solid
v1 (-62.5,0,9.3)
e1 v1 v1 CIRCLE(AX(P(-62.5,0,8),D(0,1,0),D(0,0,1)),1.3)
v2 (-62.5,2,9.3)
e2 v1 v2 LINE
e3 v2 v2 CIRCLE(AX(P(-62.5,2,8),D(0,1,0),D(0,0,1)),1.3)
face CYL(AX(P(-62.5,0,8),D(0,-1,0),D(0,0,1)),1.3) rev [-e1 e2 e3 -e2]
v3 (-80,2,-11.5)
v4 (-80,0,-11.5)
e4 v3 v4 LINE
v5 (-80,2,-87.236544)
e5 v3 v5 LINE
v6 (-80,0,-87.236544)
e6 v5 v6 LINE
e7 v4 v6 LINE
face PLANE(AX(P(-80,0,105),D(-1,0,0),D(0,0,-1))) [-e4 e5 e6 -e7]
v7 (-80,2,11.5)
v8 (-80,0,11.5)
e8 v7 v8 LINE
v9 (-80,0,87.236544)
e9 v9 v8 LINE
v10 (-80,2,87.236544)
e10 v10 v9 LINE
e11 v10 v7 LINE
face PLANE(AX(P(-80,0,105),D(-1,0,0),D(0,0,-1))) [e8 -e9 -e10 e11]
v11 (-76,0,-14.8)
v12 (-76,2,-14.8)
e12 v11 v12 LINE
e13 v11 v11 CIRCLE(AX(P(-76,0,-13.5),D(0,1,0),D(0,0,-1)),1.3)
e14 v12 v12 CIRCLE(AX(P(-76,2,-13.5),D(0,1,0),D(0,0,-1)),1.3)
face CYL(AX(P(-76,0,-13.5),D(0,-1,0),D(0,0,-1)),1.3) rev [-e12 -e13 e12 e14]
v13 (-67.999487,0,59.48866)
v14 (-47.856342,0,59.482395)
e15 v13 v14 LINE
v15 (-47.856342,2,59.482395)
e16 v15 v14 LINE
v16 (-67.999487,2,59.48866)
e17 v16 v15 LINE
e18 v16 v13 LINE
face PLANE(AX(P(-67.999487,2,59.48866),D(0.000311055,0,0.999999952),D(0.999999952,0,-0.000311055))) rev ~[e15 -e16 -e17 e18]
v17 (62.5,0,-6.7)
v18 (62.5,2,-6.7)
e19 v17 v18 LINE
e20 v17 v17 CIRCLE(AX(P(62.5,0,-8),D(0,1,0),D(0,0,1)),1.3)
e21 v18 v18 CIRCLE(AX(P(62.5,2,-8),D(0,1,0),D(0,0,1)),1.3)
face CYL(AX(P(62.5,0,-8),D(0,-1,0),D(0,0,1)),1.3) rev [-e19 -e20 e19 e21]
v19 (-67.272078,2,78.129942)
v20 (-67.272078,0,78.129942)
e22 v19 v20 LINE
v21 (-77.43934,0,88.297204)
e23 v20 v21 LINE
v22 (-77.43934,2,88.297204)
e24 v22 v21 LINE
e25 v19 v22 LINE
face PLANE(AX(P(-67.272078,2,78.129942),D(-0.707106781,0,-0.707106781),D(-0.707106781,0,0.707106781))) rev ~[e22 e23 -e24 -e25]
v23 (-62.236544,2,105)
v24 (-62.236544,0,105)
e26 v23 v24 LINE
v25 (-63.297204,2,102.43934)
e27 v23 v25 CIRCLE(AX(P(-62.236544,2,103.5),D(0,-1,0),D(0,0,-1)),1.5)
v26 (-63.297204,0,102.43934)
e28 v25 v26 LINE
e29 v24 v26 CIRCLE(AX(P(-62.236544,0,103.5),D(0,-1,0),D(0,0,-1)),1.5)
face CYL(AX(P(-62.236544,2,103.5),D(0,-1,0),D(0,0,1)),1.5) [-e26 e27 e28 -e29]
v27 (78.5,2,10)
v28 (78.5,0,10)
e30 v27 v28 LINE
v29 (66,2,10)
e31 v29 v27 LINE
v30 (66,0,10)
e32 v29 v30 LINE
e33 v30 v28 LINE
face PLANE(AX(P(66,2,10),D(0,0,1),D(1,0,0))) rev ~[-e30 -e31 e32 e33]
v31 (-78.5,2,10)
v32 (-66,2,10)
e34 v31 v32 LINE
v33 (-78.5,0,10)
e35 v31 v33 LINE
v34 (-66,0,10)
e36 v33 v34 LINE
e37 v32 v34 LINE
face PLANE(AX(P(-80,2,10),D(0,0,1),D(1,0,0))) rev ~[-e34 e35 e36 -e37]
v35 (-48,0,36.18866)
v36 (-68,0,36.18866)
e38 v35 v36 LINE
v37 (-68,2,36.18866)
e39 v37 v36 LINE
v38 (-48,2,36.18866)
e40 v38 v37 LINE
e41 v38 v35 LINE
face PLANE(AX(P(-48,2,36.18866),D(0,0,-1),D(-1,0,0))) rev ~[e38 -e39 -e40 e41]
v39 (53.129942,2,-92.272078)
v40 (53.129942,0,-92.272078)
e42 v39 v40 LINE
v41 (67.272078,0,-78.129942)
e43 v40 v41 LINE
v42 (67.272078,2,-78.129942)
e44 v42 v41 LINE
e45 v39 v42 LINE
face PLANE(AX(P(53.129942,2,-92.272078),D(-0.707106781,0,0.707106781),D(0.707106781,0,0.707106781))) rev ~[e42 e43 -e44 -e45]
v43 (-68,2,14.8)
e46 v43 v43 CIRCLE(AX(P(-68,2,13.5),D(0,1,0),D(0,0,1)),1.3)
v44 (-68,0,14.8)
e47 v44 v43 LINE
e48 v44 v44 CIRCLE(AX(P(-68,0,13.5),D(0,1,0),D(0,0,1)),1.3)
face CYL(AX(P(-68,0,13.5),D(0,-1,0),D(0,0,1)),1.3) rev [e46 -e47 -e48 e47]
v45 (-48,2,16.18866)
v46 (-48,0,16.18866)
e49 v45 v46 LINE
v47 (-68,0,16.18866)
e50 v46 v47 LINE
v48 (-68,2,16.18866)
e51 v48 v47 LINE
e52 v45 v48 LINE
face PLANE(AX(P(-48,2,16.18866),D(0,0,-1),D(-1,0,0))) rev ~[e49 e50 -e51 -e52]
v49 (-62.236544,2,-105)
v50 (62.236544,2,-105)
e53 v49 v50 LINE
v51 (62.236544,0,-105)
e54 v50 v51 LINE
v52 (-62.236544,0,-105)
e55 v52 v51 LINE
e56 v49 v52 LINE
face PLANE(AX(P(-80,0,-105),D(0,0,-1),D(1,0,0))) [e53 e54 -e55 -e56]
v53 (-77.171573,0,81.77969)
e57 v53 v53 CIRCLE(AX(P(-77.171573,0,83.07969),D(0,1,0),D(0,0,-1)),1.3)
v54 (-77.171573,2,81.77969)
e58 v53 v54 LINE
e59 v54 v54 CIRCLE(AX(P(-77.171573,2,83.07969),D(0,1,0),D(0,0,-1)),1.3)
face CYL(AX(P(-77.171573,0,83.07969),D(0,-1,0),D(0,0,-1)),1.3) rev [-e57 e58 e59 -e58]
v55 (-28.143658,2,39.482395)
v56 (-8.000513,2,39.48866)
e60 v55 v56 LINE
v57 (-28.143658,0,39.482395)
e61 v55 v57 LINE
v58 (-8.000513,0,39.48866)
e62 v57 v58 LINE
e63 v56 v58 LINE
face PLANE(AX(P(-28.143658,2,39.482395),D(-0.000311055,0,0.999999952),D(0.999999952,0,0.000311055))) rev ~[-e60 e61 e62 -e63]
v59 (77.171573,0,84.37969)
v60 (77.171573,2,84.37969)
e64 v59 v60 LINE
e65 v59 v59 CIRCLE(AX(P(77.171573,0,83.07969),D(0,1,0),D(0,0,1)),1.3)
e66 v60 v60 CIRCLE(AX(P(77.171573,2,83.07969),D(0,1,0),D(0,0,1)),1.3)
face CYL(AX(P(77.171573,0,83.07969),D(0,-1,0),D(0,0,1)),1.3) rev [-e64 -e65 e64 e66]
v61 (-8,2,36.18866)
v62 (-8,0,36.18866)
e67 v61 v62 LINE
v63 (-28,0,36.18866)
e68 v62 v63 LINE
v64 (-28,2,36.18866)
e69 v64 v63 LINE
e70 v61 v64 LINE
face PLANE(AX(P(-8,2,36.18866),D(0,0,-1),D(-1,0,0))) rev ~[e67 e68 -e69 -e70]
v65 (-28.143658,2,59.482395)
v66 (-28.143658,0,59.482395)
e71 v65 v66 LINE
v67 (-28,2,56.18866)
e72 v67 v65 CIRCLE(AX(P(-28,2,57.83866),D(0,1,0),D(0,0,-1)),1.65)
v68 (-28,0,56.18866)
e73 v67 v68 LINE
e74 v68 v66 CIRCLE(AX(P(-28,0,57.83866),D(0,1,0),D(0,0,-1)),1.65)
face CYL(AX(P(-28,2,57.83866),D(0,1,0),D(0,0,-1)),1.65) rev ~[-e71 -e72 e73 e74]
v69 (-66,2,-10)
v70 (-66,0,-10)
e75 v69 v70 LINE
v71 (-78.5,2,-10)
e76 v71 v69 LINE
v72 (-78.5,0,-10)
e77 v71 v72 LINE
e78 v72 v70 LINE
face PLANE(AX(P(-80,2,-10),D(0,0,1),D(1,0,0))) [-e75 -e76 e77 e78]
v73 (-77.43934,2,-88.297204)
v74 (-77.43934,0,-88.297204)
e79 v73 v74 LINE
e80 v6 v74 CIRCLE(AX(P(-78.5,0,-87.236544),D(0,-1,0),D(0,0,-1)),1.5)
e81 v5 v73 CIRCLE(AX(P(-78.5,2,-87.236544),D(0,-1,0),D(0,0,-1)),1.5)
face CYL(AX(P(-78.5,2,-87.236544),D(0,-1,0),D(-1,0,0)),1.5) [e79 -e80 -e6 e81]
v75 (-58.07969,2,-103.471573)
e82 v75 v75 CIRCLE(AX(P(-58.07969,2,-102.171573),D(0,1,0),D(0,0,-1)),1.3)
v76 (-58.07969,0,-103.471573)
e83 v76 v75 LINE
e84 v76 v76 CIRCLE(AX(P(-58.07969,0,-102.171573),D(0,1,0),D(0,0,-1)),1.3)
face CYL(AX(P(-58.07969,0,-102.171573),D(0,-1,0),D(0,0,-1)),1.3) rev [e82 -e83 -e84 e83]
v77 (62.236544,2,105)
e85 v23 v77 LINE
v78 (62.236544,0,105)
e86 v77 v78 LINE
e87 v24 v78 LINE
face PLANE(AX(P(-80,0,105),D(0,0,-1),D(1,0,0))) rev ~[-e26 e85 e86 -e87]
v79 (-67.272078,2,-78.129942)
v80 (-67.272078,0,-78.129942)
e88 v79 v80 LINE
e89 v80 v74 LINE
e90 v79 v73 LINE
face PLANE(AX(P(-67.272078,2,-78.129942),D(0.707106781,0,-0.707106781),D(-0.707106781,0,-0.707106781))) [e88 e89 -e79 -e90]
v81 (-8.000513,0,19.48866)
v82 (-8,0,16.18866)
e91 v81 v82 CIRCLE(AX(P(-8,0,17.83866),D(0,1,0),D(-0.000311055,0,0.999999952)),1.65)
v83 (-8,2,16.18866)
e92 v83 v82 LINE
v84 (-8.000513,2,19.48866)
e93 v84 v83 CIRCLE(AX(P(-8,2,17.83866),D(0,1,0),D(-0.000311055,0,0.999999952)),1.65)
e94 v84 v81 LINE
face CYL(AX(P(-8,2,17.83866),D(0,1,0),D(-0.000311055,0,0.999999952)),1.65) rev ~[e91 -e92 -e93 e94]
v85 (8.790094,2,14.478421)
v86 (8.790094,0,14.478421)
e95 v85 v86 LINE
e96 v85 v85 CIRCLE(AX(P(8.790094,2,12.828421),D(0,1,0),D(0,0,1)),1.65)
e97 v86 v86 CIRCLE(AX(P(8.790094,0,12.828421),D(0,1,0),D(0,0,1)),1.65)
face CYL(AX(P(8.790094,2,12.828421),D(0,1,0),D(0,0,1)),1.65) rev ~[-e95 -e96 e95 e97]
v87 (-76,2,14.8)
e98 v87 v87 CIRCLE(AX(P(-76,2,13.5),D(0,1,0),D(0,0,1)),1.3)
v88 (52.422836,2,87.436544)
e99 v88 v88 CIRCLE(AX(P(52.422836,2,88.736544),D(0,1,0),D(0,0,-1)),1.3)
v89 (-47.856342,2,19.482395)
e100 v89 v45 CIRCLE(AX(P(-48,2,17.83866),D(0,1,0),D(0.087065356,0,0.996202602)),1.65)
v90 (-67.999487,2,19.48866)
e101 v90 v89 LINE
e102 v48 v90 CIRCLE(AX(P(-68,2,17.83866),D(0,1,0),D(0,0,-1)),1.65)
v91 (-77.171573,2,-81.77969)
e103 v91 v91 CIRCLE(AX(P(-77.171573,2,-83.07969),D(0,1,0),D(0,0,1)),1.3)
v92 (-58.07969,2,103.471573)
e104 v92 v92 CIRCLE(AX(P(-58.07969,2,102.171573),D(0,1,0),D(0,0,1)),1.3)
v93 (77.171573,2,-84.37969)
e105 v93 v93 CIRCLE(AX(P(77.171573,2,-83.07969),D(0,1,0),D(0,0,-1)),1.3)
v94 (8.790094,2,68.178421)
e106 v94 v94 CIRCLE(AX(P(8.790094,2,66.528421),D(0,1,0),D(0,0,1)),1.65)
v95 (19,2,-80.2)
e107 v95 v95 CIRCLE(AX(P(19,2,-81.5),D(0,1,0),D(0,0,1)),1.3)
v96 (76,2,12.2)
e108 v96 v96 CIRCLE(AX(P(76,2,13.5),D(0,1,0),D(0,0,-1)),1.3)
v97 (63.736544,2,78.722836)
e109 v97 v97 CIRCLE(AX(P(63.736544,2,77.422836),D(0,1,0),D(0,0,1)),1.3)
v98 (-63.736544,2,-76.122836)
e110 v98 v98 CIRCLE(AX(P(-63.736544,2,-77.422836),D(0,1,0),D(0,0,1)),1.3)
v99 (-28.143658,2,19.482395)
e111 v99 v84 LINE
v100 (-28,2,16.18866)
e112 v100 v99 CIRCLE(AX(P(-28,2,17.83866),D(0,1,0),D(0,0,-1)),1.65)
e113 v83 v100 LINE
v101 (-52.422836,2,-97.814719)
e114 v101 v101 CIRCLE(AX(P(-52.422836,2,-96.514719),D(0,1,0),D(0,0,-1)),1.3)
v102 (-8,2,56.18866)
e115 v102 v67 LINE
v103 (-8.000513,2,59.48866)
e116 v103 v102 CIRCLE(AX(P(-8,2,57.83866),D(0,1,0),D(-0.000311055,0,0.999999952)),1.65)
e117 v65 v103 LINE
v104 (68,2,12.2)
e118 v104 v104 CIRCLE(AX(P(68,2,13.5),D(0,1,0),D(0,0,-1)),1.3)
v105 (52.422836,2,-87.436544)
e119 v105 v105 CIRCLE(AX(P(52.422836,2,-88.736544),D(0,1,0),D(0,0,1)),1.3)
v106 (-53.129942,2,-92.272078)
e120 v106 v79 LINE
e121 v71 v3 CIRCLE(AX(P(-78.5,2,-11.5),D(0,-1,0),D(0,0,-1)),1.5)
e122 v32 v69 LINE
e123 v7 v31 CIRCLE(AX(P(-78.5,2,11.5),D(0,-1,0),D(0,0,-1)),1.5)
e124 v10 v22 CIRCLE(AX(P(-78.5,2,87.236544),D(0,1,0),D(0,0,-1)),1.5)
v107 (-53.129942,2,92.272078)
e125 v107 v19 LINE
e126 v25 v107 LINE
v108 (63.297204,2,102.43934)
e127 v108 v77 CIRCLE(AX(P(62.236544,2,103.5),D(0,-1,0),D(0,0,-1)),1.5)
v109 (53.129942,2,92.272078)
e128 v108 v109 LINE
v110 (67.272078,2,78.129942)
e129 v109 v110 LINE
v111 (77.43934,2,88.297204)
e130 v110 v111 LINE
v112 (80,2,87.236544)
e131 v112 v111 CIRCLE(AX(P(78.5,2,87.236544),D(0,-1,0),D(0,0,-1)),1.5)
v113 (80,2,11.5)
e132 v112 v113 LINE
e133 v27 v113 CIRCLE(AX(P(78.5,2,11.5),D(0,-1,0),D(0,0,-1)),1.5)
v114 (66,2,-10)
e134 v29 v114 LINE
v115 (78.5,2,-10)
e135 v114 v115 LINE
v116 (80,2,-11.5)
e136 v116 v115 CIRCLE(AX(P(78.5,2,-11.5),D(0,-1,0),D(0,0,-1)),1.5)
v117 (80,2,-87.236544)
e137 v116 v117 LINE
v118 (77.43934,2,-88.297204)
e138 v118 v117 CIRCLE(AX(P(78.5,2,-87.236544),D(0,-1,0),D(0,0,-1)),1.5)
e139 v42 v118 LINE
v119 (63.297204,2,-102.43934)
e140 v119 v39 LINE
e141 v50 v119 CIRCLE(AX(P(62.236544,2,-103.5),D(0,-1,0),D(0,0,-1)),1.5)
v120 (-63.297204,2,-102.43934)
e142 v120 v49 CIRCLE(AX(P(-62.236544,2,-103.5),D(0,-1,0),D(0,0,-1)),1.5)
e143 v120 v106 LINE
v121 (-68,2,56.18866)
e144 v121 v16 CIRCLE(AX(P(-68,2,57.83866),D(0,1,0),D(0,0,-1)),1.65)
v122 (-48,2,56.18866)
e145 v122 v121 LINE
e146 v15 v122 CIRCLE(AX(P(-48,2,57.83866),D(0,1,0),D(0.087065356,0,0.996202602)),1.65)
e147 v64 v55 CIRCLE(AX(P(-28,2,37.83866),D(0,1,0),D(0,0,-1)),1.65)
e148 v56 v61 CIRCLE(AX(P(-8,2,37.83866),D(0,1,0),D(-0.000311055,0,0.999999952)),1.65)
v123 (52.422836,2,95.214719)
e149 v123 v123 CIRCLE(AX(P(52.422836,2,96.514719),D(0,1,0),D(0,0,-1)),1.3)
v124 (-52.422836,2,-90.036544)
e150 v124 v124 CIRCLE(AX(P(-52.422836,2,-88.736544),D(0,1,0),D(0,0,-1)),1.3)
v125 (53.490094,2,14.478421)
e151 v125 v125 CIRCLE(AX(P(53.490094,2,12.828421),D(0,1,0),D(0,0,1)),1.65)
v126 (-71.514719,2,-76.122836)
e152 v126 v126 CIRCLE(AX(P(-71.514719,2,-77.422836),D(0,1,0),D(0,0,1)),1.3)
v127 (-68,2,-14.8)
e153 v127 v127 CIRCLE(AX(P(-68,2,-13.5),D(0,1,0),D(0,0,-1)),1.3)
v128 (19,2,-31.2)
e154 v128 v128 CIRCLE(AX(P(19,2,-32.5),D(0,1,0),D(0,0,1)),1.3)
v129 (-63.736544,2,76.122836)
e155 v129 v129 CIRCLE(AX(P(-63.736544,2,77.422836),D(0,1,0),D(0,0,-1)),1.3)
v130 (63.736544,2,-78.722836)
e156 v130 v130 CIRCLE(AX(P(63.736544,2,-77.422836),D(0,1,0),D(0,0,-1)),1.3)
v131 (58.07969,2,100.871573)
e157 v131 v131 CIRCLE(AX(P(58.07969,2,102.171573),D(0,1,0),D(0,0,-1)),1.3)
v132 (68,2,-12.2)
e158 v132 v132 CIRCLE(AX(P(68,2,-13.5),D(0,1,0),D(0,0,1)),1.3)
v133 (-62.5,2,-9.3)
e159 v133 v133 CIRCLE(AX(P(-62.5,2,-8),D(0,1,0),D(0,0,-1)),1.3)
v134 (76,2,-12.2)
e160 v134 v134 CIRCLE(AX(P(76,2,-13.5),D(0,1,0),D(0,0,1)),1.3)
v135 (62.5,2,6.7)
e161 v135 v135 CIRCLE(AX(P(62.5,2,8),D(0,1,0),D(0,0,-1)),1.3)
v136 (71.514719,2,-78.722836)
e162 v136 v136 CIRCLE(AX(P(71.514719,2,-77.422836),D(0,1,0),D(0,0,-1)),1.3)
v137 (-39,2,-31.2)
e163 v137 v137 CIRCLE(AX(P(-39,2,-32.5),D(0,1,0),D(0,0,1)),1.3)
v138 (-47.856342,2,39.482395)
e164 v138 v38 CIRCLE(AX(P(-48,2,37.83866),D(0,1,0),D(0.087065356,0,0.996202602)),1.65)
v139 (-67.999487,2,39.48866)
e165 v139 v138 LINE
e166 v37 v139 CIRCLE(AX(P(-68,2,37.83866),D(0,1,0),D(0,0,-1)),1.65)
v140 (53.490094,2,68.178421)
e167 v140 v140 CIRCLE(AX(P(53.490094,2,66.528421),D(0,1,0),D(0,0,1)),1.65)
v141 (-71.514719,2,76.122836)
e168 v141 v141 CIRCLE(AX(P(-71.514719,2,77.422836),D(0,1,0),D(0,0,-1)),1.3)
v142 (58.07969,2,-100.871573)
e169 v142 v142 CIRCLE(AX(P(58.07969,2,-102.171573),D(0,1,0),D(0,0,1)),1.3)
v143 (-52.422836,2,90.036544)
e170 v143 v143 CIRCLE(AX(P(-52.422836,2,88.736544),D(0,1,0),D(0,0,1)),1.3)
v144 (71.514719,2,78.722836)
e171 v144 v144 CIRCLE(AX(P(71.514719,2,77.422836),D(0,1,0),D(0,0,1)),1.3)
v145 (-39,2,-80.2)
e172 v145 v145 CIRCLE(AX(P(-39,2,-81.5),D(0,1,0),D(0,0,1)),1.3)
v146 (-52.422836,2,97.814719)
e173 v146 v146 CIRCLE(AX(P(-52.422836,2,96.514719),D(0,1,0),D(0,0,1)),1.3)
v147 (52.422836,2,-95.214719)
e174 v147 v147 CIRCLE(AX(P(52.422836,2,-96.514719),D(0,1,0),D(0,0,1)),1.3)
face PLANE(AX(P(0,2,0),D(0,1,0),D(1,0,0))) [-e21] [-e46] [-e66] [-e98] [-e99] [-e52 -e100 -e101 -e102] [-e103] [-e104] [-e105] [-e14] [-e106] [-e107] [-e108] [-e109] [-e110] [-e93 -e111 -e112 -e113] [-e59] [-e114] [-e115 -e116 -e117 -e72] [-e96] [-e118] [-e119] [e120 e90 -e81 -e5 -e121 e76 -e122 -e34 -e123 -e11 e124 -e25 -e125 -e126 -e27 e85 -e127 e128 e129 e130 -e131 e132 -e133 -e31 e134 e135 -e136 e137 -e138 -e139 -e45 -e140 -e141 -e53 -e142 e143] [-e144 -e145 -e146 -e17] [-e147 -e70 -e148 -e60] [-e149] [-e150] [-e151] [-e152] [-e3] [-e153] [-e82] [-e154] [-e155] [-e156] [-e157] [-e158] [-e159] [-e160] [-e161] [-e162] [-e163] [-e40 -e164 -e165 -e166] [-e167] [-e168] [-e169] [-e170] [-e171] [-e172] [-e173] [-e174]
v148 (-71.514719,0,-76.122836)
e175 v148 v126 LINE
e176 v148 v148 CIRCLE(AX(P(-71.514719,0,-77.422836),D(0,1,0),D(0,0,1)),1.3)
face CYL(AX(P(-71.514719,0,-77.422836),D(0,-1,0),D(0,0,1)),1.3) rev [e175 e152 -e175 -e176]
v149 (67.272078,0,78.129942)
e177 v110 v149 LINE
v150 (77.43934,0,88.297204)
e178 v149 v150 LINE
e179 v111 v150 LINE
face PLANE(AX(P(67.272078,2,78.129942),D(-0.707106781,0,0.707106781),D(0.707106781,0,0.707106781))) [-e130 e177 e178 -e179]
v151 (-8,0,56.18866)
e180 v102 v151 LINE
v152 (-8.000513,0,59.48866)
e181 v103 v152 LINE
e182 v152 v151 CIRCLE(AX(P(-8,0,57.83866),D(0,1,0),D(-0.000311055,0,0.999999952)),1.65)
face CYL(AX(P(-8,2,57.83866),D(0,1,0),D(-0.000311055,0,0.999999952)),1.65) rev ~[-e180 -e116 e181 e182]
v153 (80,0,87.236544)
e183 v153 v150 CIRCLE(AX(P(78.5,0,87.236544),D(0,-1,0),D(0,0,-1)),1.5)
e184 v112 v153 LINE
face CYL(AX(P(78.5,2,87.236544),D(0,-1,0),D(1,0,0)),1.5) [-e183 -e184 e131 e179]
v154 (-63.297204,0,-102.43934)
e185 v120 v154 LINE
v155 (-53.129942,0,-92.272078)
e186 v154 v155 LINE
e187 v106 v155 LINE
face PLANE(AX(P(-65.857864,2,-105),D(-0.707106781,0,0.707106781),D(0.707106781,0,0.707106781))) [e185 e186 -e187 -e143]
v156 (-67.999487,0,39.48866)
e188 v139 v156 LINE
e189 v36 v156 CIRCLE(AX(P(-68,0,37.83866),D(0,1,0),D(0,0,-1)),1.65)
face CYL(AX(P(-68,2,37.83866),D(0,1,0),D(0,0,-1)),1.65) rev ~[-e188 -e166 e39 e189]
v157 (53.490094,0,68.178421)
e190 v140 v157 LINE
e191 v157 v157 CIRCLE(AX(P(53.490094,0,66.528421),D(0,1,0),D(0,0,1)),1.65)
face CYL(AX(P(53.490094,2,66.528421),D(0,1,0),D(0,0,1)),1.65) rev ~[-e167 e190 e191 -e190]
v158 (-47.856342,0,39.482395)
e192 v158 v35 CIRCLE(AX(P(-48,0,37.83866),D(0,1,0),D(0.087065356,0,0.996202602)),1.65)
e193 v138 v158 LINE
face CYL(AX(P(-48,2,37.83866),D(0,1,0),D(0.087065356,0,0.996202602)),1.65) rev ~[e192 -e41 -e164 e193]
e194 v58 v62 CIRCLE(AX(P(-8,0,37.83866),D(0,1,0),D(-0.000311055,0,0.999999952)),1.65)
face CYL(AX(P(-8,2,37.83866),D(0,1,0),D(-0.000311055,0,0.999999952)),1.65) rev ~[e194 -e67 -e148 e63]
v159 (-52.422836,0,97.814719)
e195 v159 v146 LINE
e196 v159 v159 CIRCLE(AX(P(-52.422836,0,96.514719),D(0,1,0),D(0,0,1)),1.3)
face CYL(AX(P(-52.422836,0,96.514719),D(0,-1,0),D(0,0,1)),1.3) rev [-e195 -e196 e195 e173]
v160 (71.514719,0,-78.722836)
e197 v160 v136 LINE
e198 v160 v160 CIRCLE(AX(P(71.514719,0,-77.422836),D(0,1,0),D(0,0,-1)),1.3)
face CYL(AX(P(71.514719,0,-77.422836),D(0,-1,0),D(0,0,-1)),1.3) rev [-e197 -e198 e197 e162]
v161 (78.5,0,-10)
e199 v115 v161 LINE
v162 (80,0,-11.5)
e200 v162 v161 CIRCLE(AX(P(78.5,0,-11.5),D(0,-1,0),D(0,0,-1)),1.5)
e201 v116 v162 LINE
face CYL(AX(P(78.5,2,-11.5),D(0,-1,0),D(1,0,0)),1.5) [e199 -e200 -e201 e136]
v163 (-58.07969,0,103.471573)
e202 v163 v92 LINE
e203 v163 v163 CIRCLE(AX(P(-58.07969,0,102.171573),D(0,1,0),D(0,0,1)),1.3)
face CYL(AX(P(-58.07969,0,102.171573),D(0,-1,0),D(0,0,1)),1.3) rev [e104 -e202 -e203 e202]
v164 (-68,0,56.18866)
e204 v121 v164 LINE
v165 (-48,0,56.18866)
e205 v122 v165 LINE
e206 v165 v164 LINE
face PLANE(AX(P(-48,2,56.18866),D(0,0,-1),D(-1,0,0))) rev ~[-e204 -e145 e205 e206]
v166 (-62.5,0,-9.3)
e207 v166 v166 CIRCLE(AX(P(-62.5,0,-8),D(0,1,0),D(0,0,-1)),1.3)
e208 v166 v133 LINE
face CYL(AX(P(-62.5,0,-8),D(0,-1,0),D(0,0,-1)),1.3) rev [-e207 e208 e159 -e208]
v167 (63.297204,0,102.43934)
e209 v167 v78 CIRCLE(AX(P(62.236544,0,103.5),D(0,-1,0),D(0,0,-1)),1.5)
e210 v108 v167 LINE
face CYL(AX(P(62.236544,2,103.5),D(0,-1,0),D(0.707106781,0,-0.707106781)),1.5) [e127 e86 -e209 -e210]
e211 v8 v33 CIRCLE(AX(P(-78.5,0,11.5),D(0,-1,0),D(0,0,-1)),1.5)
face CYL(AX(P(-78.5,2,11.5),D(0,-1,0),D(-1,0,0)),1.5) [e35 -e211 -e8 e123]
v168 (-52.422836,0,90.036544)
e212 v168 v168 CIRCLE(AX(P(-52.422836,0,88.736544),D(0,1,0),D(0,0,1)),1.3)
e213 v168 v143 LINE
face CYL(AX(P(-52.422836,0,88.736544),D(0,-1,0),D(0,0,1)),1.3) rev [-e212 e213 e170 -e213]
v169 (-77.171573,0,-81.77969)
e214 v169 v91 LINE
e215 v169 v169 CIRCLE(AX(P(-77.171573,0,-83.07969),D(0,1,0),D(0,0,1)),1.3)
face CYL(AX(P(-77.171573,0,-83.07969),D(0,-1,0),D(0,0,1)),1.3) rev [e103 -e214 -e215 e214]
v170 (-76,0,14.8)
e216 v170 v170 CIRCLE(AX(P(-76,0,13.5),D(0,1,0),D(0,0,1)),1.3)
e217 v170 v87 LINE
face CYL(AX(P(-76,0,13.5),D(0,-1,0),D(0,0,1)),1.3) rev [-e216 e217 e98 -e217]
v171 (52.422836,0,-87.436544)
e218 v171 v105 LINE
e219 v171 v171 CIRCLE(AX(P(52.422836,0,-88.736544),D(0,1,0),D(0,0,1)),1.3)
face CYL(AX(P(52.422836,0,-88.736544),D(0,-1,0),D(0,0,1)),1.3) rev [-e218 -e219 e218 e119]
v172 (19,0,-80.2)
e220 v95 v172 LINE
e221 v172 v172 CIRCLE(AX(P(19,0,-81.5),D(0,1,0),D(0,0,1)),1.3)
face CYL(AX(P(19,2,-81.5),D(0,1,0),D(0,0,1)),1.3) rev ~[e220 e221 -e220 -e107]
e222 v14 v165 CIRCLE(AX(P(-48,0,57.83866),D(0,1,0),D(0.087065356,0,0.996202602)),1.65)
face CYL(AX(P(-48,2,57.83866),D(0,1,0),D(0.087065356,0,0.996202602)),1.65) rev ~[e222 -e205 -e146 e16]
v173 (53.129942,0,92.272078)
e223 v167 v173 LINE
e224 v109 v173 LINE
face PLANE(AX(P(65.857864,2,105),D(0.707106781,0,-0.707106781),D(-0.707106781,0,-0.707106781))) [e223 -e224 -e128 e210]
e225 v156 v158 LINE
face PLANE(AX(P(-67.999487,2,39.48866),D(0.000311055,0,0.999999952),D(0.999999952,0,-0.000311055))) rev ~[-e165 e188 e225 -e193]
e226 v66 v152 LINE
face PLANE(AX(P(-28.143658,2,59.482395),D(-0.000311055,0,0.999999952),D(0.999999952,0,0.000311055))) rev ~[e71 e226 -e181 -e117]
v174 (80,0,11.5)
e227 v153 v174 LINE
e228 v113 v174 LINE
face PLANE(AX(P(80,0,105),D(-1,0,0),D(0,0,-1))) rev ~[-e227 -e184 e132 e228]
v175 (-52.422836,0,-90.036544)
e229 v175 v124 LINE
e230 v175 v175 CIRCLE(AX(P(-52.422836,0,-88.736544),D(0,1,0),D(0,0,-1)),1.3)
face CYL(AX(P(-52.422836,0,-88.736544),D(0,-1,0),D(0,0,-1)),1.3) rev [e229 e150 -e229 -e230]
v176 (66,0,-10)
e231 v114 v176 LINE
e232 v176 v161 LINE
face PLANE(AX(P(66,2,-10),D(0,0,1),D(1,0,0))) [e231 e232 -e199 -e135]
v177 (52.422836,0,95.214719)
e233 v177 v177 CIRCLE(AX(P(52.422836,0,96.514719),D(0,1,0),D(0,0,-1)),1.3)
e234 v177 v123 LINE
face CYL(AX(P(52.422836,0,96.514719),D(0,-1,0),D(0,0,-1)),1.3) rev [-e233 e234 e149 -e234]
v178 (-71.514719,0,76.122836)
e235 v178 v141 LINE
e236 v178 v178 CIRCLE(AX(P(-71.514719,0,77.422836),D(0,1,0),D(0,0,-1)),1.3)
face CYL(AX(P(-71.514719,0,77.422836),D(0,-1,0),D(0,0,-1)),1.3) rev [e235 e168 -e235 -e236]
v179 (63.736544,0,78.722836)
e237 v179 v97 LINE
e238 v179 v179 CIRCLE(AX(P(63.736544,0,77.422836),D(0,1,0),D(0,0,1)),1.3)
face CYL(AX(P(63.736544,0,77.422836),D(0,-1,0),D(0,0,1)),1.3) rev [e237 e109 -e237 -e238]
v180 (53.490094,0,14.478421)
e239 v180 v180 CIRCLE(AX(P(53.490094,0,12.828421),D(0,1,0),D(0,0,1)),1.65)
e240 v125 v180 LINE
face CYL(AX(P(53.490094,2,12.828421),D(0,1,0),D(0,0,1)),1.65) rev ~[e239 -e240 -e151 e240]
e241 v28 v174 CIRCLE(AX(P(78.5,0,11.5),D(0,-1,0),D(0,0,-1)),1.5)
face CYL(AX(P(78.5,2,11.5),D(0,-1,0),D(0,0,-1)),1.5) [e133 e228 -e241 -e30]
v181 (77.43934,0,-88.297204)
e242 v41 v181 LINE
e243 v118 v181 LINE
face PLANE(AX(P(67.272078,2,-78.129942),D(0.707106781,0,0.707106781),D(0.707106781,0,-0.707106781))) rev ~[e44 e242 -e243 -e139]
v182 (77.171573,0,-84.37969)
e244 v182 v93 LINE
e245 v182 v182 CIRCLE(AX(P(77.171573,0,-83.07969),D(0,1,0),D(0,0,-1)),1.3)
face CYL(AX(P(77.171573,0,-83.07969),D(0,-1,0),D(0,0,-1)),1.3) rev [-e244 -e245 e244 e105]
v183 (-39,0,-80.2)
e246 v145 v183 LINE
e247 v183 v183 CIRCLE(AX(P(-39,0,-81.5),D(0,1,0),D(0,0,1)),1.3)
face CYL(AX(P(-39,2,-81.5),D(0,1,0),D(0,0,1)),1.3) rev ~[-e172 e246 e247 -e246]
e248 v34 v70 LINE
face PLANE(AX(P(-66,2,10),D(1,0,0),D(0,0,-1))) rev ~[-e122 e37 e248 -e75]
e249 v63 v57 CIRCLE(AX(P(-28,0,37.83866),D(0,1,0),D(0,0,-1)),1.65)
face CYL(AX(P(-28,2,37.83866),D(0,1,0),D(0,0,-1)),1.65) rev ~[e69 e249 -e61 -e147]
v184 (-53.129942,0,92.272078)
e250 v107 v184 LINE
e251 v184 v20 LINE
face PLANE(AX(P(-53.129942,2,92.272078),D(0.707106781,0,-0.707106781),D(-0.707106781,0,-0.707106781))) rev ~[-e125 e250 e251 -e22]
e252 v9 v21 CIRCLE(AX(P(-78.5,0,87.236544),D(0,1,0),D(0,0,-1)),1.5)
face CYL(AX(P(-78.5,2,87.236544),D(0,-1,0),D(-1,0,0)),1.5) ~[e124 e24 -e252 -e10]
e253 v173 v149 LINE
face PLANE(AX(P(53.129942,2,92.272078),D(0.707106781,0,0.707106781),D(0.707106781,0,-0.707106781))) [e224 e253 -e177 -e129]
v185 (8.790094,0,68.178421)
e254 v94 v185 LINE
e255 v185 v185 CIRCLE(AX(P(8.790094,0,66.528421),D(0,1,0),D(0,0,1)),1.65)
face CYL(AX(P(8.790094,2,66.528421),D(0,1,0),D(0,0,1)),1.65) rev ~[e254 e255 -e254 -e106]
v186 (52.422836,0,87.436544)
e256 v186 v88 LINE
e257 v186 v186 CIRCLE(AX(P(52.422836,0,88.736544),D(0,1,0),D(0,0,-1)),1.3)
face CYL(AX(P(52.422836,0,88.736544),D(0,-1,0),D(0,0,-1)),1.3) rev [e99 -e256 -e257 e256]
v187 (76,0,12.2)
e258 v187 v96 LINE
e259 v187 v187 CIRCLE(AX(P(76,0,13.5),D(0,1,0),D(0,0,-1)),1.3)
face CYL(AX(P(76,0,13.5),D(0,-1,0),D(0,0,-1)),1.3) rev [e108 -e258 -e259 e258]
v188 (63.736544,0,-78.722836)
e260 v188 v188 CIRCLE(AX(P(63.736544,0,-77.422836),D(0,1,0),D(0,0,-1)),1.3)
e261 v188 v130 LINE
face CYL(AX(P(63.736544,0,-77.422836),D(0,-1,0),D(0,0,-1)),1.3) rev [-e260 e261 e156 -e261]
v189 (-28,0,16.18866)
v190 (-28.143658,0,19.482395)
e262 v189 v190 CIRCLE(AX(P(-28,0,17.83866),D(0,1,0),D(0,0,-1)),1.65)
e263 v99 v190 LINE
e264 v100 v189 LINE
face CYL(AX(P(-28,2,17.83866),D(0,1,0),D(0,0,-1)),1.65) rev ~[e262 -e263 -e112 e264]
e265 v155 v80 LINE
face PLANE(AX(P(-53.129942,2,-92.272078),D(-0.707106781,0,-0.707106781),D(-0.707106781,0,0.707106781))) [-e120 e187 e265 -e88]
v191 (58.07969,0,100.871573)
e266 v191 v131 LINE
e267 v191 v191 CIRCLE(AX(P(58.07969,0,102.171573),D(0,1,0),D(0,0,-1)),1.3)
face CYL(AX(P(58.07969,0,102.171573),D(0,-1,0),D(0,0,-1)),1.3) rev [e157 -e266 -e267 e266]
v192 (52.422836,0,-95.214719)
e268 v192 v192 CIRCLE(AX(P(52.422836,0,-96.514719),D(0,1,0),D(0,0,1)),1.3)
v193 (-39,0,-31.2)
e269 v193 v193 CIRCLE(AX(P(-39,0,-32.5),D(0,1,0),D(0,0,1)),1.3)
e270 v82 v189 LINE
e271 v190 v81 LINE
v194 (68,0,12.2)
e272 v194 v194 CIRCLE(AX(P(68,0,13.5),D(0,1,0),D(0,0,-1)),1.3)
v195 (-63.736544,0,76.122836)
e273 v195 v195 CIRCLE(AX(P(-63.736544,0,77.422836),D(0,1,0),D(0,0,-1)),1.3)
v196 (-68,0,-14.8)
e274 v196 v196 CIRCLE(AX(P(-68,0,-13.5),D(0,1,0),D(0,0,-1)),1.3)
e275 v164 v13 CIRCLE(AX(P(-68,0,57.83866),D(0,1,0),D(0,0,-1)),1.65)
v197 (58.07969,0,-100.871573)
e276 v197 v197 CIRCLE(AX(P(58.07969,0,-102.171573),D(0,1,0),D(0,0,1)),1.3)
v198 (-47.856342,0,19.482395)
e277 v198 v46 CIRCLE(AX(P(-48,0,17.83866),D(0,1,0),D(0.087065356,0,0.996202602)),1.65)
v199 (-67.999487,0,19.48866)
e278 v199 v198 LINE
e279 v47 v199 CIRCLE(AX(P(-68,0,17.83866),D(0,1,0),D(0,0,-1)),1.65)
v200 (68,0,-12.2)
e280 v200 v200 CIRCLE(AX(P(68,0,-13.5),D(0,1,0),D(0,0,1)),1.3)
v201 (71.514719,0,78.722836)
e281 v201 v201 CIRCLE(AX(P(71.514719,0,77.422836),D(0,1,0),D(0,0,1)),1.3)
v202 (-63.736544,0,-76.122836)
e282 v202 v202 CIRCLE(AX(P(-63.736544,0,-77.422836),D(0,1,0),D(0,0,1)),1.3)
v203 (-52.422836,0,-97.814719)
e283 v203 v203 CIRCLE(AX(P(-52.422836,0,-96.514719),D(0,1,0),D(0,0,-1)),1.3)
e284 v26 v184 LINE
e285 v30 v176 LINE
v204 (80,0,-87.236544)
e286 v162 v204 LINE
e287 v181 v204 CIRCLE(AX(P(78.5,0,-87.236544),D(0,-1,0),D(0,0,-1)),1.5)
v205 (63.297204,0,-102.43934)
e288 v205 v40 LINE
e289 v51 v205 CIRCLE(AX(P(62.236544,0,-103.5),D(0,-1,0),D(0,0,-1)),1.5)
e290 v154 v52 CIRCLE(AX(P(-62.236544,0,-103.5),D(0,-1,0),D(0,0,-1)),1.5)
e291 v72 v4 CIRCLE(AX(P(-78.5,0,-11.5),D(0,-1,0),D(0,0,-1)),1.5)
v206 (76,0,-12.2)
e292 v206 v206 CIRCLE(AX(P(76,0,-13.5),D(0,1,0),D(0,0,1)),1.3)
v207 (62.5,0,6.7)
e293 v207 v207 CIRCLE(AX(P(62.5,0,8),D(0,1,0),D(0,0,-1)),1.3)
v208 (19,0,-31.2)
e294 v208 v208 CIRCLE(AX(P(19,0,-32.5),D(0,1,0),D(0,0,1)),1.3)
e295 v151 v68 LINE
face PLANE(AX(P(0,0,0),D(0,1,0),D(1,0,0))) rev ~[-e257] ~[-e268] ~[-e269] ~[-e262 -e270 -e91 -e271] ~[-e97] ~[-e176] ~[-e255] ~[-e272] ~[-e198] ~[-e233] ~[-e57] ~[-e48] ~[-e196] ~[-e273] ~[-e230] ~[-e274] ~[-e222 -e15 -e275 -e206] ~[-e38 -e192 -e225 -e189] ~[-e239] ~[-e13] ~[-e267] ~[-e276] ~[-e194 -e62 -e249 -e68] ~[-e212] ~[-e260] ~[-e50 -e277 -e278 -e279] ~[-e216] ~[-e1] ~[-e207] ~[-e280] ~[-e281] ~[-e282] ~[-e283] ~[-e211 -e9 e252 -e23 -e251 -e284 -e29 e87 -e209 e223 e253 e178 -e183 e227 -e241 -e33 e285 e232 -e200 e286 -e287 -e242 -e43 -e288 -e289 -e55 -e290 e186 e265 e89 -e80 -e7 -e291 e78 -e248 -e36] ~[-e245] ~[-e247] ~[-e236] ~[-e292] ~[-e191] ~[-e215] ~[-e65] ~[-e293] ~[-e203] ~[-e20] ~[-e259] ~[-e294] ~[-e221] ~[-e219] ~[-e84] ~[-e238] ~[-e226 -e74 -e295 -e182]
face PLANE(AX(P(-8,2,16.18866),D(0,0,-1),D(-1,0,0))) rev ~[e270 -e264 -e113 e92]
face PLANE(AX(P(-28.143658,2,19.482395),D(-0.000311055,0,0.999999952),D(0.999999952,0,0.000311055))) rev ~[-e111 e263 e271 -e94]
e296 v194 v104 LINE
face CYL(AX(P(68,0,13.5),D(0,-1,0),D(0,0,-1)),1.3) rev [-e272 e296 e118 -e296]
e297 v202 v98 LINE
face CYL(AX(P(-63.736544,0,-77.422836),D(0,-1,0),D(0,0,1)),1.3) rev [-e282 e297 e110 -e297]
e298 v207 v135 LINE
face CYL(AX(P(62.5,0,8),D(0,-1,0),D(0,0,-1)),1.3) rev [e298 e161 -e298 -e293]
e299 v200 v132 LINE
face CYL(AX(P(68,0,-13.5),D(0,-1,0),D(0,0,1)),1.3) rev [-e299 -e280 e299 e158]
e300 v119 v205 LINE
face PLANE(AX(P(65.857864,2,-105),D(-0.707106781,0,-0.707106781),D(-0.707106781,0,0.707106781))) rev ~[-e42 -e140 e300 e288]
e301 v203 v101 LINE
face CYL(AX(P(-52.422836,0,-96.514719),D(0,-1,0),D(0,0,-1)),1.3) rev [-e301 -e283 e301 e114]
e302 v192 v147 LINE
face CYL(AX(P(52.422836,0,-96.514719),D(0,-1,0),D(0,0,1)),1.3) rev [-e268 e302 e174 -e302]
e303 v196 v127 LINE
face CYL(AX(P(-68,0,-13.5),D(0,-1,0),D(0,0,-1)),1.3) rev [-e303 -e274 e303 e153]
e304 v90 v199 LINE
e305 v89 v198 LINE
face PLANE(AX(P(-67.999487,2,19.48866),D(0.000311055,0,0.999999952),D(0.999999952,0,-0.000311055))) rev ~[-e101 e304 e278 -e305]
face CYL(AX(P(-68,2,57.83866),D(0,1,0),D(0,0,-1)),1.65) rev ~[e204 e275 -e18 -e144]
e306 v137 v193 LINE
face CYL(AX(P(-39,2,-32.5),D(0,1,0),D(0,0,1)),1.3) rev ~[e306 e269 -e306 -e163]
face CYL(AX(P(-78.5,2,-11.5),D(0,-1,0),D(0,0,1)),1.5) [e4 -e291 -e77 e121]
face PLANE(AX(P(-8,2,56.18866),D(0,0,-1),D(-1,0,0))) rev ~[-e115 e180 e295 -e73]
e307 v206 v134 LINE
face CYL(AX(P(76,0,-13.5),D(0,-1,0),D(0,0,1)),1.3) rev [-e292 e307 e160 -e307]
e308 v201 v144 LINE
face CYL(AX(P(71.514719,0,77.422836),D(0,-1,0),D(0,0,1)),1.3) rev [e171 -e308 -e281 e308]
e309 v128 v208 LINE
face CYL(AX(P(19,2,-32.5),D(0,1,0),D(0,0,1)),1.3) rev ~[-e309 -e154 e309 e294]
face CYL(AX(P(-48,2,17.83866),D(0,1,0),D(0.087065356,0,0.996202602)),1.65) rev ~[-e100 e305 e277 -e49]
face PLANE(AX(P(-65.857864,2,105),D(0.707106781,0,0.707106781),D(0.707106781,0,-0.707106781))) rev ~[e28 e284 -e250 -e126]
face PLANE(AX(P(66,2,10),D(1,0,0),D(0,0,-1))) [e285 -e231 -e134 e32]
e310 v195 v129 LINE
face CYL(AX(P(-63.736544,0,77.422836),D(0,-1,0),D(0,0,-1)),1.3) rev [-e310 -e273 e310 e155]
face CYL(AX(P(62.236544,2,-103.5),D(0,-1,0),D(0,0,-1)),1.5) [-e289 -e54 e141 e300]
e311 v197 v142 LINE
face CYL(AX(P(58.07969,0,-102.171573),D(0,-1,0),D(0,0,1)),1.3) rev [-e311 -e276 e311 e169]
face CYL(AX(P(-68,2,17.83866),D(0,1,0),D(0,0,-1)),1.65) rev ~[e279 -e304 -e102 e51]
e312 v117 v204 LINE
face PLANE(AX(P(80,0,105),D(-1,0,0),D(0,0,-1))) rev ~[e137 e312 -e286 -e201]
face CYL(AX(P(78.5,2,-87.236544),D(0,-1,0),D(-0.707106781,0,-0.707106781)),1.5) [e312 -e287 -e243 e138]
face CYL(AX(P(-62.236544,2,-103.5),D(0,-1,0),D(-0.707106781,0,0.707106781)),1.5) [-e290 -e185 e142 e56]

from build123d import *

# Parameters (mm, degrees)
SKETCH2_W           = 160
SKETCH2_H           = 210
SKETCH2_R           = 1.3
BOSS_EXTRUDE1_DEPTH = 2
SKETCH3_W           = 14
SKETCH3_H           = 20
CUT_EXTRUDE1_DEPTH  = 2
FILLET1_R           = 1.5
SKETCH4_R           = 1.3
CUT_EXTRUDE2_DEPTH  = 2
CUT_EXTRUDE3_DEPTH  = 2
SKETCH6_R           = 1.65
CUT_EXTRUDE4_DEPTH  = 2


with BuildPart() as part:
    # Sketch2 → Boss-Extrude1 (new body)
    with BuildSketch(Plane(origin=(0, 0, 0), x_dir=(1, 0, 0), z_dir=(0, 1, 0))):
        Rectangle(SKETCH2_W, SKETCH2_H)
        with Locations(Location((52.422835534, 88.736544033, 0), (0, 0, 270))):
            Circle(SKETCH2_R, mode=Mode.SUBTRACT)
        with Locations(Location((52.422835534, 96.514718626, 0), (0, 0, 270))):
            Circle(SKETCH2_R, mode=Mode.SUBTRACT)
        with Locations(Location((58.079689783, 102.171572875, 0), (0, 0, 270))):
            Circle(SKETCH2_R, mode=Mode.SUBTRACT)
        with Locations(Location((76, 13.5, 0), (0, 0, 270))):
            Circle(SKETCH2_R, mode=Mode.SUBTRACT)
        with Locations(Location((68, 13.5, 0), (0, 0, 270))):
            Circle(SKETCH2_R, mode=Mode.SUBTRACT)
        with Locations(Location((62.5, 8, 0), (0, 0, 270))):
            Circle(SKETCH2_R, mode=Mode.SUBTRACT)
        with Locations(Location((62.5, -8, 0), (0, 0, 90))):
            Circle(SKETCH2_R, mode=Mode.SUBTRACT)
        with Locations(Location((68, -13.5, 0), (0, 0, 90))):
            Circle(SKETCH2_R, mode=Mode.SUBTRACT)
        with Locations(Location((76, -13.5, 0), (0, 0, 90))):
            Circle(SKETCH2_R, mode=Mode.SUBTRACT)
        with Locations(Location((77.171572875, 83.079689783, 0), (0, 0, 90))):
            Circle(SKETCH2_R, mode=Mode.SUBTRACT)
        with Locations(Location((71.514718626, 77.422835534, 0), (0, 0, 90))):
            Circle(SKETCH2_R, mode=Mode.SUBTRACT)
        with Locations(Location((63.736544033, 77.422835534, 0), (0, 0, 90))):
            Circle(SKETCH2_R, mode=Mode.SUBTRACT)
        with Locations(Location((77.171572875, -83.079689783, 0), (0, 0, 270))):
            Circle(SKETCH2_R, mode=Mode.SUBTRACT)
        with Locations(Location((71.514718626, -77.422835534, 0), (0, 0, 270))):
            Circle(SKETCH2_R, mode=Mode.SUBTRACT)
        with Locations(Location((63.736544033, -77.422835534, 0), (0, 0, 270))):
            Circle(SKETCH2_R, mode=Mode.SUBTRACT)
        with Locations(Location((58.079689783, -102.171572875, 0), (0, 0, 90))):
            Circle(SKETCH2_R, mode=Mode.SUBTRACT)
        with Locations(Location((52.422835534, -96.514718626, 0), (0, 0, 90))):
            Circle(SKETCH2_R, mode=Mode.SUBTRACT)
        with Locations(Location((52.422835534, -88.736544033, 0), (0, 0, 90))):
            Circle(SKETCH2_R, mode=Mode.SUBTRACT)
        with Locations(Location((-58.079689783, 102.171572875, 0), (0, 0, 90))):
            Circle(SKETCH2_R, mode=Mode.SUBTRACT)
        with Locations(Location((-52.422835534, 96.514718626, 0), (0, 0, 90))):
            Circle(SKETCH2_R, mode=Mode.SUBTRACT)
        with Locations(Location((-52.422835534, 88.736544033, 0), (0, 0, 90))):
            Circle(SKETCH2_R, mode=Mode.SUBTRACT)
        with Locations(Location((-77.171572875, 83.079689783, 0), (0, 0, 270))):
            Circle(SKETCH2_R, mode=Mode.SUBTRACT)
        with Locations(Location((-71.514718626, 77.422835534, 0), (0, 0, 270))):
            Circle(SKETCH2_R, mode=Mode.SUBTRACT)
        with Locations(Location((-63.736544033, 77.422835534, 0), (0, 0, 270))):
            Circle(SKETCH2_R, mode=Mode.SUBTRACT)
        with Locations(Location((-77.171572875, -83.079689783, 0), (0, 0, 90))):
            Circle(SKETCH2_R, mode=Mode.SUBTRACT)
        with Locations(Location((-71.514718626, -77.422835534, 0), (0, 0, 90))):
            Circle(SKETCH2_R, mode=Mode.SUBTRACT)
        with Locations(Location((-63.736544033, -77.422835534, 0), (0, 0, 90))):
            Circle(SKETCH2_R, mode=Mode.SUBTRACT)
        with Locations(Location((-52.422835534, -88.736544033, 0), (0, 0, 270))):
            Circle(SKETCH2_R, mode=Mode.SUBTRACT)
        with Locations(Location((-52.422835534, -96.514718626, 0), (0, 0, 270))):
            Circle(SKETCH2_R, mode=Mode.SUBTRACT)
        with Locations(Location((-58.079689783, -102.171572875, 0), (0, 0, 270))):
            Circle(SKETCH2_R, mode=Mode.SUBTRACT)
        with Locations(Location((-62.5, -8, 0), (0, 0, 270))):
            Circle(SKETCH2_R, mode=Mode.SUBTRACT)
        with Locations(Location((-68, -13.5, 0), (0, 0, 270))):
            Circle(SKETCH2_R, mode=Mode.SUBTRACT)
        with Locations(Location((-76, -13.5, 0), (0, 0, 270))):
            Circle(SKETCH2_R, mode=Mode.SUBTRACT)
        with Locations(Location((-76, 13.5, 0), (0, 0, 90))):
            Circle(SKETCH2_R, mode=Mode.SUBTRACT)
        with Locations(Location((-68, 13.5, 0), (0, 0, 90))):
            Circle(SKETCH2_R, mode=Mode.SUBTRACT)
        with Locations(Location((-62.5, 8, 0), (0, 0, 90))):
            Circle(SKETCH2_R, mode=Mode.SUBTRACT)
    extrude(amount=BOSS_EXTRUDE1_DEPTH)

    # Sketch3 → Cut-Extrude1 (cut)
    with BuildSketch(Plane(origin=(0, 2, 0), x_dir=(1, 0, 0), z_dir=(0, 1, 0))):
        with Locations((73, 0)):
            Rectangle(SKETCH3_W, SKETCH3_H)
        Polygon((65.857864376, 105), (53.129942315, 92.272077939), (67.272077939, 78.129942315), (80, 90.857864376), (80, 105), align=None)
        Polygon((80, -90.857864376), (80, -105), (65.857864376, -105), (53.129942315, -92.272077939), (67.272077939, -78.129942315), align=None)
        Polygon((-80, 90.857864376), (-80, 105), (-65.857864376, 105), (-53.129942315, 92.272077939), (-67.272077939, 78.129942315), align=None)
        with Locations((-73, 0)):
            Rectangle(SKETCH3_W, SKETCH3_H)
        Polygon((-67.272077939, -78.129942315), (-80, -90.857864376), (-80, -105), (-65.857864376, -105), (-53.129942315, -92.272077939), align=None)
    extrude(amount=-CUT_EXTRUDE1_DEPTH, mode=Mode.SUBTRACT)

    # Fillet1
    fillet1_edges = [part.edges().sort_by_distance(p)[0] for p in [
        (65.857864376, 1, -105),
        (80, 1, -90.857864376),
        (80, 1, 90.857864376),
        (65.857864376, 1, 105),
        (-80, 1, -90.857864376),
        (-65.857864376, 1, -105),
        (-80, 1, 10),
        (-80, 1, -10),
        (-65.857864376, 1, 105),
        (-80, 1, 90.857864376),
        (80, 1, -10),
        (80, 1, 10),
    ]]
    fillet(fillet1_edges, radius=FILLET1_R)

    # Sketch4 → Cut-Extrude2 (cut)
    with BuildSketch(Plane(origin=(0, 2, 0), x_dir=(1, 0, 0), z_dir=(0, 1, 0))):
        with Locations(Location((-39, 81.5, 0), (0, 0, 270))):
            Circle(SKETCH4_R)
        with Locations(Location((19, 81.5, 0), (0, 0, 270))):
            Circle(SKETCH4_R)
        with Locations(Location((19, 32.5, 0), (0, 0, 270))):
            Circle(SKETCH4_R)
        with Locations(Location((-39, 32.5, 0), (0, 0, 270))):
            Circle(SKETCH4_R)
    extrude(amount=-CUT_EXTRUDE2_DEPTH, mode=Mode.SUBTRACT)

    # Sketch5 → Cut-Extrude3 (cut)
    with BuildSketch(Plane(origin=(0, 2, 0), x_dir=(1, 0, 0), z_dir=(0, 1, 0))):
        with BuildLine():
            Line((-48, -56.188660248), (-68, -56.188660248))
            ThreePointArc((-68, -56.188660248), (-69.64999998, -57.838916868), (-67.999486759, -59.488660168))
            Line((-67.999486759, -59.488660168), (-47.856342163, -59.482394541))
            ThreePointArc((-47.856342163, -59.482394541), (-46.351567171, -57.766763041), (-48, -56.188660248))
        make_face()
        with BuildLine():
            Line((-48, -36.188660248), (-68, -36.188660248))
            ThreePointArc((-68, -36.188660248), (-69.64999998, -37.838916868), (-67.999486759, -39.488660168))
            Line((-67.999486759, -39.488660168), (-47.856342163, -39.482394541))
            ThreePointArc((-47.856342163, -39.482394541), (-46.351567171, -37.766763041), (-48, -36.188660248))
        make_face()
        with BuildLine():
            Line((-48, -16.188660248), (-68, -16.188660248))
            ThreePointArc((-68, -16.188660248), (-69.64999998, -17.838916868), (-67.999486759, -19.488660168))
            Line((-67.999486759, -19.488660168), (-47.856342163, -19.482394541))
            ThreePointArc((-47.856342163, -19.482394541), (-46.351567171, -17.766763041), (-48, -16.188660248))
        make_face()
        with BuildLine():
            Line((-28.143657837, -19.482394541), (-8.000513241, -19.488660168))
            ThreePointArc((-8.000513241, -19.488660168), (-6.35000002, -17.838916868), (-8, -16.188660248))
            Line((-8, -16.188660248), (-28, -16.188660248))
            ThreePointArc((-28, -16.188660248), (-29.648432829, -17.766763041), (-28.143657837, -19.482394541))
        make_face()
        with BuildLine():
            Line((-28.143657837, -39.482394541), (-8.000513241, -39.488660168))
            ThreePointArc((-8.000513241, -39.488660168), (-6.35000002, -37.838916868), (-8, -36.188660248))
            Line((-8, -36.188660248), (-28, -36.188660248))
            ThreePointArc((-28, -36.188660248), (-29.648432829, -37.766763041), (-28.143657837, -39.482394541))
        make_face()
        with BuildLine():
            Line((-28.143657837, -59.482394541), (-8.000513241, -59.488660168))
            ThreePointArc((-8.000513241, -59.488660168), (-6.35000002, -57.838916868), (-8, -56.188660248))
            Line((-8, -56.188660248), (-28, -56.188660248))
            ThreePointArc((-28, -56.188660248), (-29.648432829, -57.766763041), (-28.143657837, -59.482394541))
        make_face()
    extrude(amount=-CUT_EXTRUDE3_DEPTH, mode=Mode.SUBTRACT)

    # Sketch6 → Cut-Extrude4 (cut)
    with BuildSketch(Plane(origin=(0, 2, 0), x_dir=(1, 0, 0), z_dir=(0, 1, 0))):
        with Locations(Location((8.790094163, -66.528420774, 0), (0, 0, 270))):
            Circle(SKETCH6_R)
        with Locations(Location((8.790094163, -12.828420774, 0), (0, 0, 270))):
            Circle(SKETCH6_R)
        with Locations(Location((53.490094163, -12.828420774, 0), (0, 0, 270))):
            Circle(SKETCH6_R)
        with Locations(Location((53.490094163, -66.528420774, 0), (0, 0, 270))):
            Circle(SKETCH6_R)
    extrude(amount=-CUT_EXTRUDE4_DEPTH, mode=Mode.SUBTRACT)


solid = part.part
